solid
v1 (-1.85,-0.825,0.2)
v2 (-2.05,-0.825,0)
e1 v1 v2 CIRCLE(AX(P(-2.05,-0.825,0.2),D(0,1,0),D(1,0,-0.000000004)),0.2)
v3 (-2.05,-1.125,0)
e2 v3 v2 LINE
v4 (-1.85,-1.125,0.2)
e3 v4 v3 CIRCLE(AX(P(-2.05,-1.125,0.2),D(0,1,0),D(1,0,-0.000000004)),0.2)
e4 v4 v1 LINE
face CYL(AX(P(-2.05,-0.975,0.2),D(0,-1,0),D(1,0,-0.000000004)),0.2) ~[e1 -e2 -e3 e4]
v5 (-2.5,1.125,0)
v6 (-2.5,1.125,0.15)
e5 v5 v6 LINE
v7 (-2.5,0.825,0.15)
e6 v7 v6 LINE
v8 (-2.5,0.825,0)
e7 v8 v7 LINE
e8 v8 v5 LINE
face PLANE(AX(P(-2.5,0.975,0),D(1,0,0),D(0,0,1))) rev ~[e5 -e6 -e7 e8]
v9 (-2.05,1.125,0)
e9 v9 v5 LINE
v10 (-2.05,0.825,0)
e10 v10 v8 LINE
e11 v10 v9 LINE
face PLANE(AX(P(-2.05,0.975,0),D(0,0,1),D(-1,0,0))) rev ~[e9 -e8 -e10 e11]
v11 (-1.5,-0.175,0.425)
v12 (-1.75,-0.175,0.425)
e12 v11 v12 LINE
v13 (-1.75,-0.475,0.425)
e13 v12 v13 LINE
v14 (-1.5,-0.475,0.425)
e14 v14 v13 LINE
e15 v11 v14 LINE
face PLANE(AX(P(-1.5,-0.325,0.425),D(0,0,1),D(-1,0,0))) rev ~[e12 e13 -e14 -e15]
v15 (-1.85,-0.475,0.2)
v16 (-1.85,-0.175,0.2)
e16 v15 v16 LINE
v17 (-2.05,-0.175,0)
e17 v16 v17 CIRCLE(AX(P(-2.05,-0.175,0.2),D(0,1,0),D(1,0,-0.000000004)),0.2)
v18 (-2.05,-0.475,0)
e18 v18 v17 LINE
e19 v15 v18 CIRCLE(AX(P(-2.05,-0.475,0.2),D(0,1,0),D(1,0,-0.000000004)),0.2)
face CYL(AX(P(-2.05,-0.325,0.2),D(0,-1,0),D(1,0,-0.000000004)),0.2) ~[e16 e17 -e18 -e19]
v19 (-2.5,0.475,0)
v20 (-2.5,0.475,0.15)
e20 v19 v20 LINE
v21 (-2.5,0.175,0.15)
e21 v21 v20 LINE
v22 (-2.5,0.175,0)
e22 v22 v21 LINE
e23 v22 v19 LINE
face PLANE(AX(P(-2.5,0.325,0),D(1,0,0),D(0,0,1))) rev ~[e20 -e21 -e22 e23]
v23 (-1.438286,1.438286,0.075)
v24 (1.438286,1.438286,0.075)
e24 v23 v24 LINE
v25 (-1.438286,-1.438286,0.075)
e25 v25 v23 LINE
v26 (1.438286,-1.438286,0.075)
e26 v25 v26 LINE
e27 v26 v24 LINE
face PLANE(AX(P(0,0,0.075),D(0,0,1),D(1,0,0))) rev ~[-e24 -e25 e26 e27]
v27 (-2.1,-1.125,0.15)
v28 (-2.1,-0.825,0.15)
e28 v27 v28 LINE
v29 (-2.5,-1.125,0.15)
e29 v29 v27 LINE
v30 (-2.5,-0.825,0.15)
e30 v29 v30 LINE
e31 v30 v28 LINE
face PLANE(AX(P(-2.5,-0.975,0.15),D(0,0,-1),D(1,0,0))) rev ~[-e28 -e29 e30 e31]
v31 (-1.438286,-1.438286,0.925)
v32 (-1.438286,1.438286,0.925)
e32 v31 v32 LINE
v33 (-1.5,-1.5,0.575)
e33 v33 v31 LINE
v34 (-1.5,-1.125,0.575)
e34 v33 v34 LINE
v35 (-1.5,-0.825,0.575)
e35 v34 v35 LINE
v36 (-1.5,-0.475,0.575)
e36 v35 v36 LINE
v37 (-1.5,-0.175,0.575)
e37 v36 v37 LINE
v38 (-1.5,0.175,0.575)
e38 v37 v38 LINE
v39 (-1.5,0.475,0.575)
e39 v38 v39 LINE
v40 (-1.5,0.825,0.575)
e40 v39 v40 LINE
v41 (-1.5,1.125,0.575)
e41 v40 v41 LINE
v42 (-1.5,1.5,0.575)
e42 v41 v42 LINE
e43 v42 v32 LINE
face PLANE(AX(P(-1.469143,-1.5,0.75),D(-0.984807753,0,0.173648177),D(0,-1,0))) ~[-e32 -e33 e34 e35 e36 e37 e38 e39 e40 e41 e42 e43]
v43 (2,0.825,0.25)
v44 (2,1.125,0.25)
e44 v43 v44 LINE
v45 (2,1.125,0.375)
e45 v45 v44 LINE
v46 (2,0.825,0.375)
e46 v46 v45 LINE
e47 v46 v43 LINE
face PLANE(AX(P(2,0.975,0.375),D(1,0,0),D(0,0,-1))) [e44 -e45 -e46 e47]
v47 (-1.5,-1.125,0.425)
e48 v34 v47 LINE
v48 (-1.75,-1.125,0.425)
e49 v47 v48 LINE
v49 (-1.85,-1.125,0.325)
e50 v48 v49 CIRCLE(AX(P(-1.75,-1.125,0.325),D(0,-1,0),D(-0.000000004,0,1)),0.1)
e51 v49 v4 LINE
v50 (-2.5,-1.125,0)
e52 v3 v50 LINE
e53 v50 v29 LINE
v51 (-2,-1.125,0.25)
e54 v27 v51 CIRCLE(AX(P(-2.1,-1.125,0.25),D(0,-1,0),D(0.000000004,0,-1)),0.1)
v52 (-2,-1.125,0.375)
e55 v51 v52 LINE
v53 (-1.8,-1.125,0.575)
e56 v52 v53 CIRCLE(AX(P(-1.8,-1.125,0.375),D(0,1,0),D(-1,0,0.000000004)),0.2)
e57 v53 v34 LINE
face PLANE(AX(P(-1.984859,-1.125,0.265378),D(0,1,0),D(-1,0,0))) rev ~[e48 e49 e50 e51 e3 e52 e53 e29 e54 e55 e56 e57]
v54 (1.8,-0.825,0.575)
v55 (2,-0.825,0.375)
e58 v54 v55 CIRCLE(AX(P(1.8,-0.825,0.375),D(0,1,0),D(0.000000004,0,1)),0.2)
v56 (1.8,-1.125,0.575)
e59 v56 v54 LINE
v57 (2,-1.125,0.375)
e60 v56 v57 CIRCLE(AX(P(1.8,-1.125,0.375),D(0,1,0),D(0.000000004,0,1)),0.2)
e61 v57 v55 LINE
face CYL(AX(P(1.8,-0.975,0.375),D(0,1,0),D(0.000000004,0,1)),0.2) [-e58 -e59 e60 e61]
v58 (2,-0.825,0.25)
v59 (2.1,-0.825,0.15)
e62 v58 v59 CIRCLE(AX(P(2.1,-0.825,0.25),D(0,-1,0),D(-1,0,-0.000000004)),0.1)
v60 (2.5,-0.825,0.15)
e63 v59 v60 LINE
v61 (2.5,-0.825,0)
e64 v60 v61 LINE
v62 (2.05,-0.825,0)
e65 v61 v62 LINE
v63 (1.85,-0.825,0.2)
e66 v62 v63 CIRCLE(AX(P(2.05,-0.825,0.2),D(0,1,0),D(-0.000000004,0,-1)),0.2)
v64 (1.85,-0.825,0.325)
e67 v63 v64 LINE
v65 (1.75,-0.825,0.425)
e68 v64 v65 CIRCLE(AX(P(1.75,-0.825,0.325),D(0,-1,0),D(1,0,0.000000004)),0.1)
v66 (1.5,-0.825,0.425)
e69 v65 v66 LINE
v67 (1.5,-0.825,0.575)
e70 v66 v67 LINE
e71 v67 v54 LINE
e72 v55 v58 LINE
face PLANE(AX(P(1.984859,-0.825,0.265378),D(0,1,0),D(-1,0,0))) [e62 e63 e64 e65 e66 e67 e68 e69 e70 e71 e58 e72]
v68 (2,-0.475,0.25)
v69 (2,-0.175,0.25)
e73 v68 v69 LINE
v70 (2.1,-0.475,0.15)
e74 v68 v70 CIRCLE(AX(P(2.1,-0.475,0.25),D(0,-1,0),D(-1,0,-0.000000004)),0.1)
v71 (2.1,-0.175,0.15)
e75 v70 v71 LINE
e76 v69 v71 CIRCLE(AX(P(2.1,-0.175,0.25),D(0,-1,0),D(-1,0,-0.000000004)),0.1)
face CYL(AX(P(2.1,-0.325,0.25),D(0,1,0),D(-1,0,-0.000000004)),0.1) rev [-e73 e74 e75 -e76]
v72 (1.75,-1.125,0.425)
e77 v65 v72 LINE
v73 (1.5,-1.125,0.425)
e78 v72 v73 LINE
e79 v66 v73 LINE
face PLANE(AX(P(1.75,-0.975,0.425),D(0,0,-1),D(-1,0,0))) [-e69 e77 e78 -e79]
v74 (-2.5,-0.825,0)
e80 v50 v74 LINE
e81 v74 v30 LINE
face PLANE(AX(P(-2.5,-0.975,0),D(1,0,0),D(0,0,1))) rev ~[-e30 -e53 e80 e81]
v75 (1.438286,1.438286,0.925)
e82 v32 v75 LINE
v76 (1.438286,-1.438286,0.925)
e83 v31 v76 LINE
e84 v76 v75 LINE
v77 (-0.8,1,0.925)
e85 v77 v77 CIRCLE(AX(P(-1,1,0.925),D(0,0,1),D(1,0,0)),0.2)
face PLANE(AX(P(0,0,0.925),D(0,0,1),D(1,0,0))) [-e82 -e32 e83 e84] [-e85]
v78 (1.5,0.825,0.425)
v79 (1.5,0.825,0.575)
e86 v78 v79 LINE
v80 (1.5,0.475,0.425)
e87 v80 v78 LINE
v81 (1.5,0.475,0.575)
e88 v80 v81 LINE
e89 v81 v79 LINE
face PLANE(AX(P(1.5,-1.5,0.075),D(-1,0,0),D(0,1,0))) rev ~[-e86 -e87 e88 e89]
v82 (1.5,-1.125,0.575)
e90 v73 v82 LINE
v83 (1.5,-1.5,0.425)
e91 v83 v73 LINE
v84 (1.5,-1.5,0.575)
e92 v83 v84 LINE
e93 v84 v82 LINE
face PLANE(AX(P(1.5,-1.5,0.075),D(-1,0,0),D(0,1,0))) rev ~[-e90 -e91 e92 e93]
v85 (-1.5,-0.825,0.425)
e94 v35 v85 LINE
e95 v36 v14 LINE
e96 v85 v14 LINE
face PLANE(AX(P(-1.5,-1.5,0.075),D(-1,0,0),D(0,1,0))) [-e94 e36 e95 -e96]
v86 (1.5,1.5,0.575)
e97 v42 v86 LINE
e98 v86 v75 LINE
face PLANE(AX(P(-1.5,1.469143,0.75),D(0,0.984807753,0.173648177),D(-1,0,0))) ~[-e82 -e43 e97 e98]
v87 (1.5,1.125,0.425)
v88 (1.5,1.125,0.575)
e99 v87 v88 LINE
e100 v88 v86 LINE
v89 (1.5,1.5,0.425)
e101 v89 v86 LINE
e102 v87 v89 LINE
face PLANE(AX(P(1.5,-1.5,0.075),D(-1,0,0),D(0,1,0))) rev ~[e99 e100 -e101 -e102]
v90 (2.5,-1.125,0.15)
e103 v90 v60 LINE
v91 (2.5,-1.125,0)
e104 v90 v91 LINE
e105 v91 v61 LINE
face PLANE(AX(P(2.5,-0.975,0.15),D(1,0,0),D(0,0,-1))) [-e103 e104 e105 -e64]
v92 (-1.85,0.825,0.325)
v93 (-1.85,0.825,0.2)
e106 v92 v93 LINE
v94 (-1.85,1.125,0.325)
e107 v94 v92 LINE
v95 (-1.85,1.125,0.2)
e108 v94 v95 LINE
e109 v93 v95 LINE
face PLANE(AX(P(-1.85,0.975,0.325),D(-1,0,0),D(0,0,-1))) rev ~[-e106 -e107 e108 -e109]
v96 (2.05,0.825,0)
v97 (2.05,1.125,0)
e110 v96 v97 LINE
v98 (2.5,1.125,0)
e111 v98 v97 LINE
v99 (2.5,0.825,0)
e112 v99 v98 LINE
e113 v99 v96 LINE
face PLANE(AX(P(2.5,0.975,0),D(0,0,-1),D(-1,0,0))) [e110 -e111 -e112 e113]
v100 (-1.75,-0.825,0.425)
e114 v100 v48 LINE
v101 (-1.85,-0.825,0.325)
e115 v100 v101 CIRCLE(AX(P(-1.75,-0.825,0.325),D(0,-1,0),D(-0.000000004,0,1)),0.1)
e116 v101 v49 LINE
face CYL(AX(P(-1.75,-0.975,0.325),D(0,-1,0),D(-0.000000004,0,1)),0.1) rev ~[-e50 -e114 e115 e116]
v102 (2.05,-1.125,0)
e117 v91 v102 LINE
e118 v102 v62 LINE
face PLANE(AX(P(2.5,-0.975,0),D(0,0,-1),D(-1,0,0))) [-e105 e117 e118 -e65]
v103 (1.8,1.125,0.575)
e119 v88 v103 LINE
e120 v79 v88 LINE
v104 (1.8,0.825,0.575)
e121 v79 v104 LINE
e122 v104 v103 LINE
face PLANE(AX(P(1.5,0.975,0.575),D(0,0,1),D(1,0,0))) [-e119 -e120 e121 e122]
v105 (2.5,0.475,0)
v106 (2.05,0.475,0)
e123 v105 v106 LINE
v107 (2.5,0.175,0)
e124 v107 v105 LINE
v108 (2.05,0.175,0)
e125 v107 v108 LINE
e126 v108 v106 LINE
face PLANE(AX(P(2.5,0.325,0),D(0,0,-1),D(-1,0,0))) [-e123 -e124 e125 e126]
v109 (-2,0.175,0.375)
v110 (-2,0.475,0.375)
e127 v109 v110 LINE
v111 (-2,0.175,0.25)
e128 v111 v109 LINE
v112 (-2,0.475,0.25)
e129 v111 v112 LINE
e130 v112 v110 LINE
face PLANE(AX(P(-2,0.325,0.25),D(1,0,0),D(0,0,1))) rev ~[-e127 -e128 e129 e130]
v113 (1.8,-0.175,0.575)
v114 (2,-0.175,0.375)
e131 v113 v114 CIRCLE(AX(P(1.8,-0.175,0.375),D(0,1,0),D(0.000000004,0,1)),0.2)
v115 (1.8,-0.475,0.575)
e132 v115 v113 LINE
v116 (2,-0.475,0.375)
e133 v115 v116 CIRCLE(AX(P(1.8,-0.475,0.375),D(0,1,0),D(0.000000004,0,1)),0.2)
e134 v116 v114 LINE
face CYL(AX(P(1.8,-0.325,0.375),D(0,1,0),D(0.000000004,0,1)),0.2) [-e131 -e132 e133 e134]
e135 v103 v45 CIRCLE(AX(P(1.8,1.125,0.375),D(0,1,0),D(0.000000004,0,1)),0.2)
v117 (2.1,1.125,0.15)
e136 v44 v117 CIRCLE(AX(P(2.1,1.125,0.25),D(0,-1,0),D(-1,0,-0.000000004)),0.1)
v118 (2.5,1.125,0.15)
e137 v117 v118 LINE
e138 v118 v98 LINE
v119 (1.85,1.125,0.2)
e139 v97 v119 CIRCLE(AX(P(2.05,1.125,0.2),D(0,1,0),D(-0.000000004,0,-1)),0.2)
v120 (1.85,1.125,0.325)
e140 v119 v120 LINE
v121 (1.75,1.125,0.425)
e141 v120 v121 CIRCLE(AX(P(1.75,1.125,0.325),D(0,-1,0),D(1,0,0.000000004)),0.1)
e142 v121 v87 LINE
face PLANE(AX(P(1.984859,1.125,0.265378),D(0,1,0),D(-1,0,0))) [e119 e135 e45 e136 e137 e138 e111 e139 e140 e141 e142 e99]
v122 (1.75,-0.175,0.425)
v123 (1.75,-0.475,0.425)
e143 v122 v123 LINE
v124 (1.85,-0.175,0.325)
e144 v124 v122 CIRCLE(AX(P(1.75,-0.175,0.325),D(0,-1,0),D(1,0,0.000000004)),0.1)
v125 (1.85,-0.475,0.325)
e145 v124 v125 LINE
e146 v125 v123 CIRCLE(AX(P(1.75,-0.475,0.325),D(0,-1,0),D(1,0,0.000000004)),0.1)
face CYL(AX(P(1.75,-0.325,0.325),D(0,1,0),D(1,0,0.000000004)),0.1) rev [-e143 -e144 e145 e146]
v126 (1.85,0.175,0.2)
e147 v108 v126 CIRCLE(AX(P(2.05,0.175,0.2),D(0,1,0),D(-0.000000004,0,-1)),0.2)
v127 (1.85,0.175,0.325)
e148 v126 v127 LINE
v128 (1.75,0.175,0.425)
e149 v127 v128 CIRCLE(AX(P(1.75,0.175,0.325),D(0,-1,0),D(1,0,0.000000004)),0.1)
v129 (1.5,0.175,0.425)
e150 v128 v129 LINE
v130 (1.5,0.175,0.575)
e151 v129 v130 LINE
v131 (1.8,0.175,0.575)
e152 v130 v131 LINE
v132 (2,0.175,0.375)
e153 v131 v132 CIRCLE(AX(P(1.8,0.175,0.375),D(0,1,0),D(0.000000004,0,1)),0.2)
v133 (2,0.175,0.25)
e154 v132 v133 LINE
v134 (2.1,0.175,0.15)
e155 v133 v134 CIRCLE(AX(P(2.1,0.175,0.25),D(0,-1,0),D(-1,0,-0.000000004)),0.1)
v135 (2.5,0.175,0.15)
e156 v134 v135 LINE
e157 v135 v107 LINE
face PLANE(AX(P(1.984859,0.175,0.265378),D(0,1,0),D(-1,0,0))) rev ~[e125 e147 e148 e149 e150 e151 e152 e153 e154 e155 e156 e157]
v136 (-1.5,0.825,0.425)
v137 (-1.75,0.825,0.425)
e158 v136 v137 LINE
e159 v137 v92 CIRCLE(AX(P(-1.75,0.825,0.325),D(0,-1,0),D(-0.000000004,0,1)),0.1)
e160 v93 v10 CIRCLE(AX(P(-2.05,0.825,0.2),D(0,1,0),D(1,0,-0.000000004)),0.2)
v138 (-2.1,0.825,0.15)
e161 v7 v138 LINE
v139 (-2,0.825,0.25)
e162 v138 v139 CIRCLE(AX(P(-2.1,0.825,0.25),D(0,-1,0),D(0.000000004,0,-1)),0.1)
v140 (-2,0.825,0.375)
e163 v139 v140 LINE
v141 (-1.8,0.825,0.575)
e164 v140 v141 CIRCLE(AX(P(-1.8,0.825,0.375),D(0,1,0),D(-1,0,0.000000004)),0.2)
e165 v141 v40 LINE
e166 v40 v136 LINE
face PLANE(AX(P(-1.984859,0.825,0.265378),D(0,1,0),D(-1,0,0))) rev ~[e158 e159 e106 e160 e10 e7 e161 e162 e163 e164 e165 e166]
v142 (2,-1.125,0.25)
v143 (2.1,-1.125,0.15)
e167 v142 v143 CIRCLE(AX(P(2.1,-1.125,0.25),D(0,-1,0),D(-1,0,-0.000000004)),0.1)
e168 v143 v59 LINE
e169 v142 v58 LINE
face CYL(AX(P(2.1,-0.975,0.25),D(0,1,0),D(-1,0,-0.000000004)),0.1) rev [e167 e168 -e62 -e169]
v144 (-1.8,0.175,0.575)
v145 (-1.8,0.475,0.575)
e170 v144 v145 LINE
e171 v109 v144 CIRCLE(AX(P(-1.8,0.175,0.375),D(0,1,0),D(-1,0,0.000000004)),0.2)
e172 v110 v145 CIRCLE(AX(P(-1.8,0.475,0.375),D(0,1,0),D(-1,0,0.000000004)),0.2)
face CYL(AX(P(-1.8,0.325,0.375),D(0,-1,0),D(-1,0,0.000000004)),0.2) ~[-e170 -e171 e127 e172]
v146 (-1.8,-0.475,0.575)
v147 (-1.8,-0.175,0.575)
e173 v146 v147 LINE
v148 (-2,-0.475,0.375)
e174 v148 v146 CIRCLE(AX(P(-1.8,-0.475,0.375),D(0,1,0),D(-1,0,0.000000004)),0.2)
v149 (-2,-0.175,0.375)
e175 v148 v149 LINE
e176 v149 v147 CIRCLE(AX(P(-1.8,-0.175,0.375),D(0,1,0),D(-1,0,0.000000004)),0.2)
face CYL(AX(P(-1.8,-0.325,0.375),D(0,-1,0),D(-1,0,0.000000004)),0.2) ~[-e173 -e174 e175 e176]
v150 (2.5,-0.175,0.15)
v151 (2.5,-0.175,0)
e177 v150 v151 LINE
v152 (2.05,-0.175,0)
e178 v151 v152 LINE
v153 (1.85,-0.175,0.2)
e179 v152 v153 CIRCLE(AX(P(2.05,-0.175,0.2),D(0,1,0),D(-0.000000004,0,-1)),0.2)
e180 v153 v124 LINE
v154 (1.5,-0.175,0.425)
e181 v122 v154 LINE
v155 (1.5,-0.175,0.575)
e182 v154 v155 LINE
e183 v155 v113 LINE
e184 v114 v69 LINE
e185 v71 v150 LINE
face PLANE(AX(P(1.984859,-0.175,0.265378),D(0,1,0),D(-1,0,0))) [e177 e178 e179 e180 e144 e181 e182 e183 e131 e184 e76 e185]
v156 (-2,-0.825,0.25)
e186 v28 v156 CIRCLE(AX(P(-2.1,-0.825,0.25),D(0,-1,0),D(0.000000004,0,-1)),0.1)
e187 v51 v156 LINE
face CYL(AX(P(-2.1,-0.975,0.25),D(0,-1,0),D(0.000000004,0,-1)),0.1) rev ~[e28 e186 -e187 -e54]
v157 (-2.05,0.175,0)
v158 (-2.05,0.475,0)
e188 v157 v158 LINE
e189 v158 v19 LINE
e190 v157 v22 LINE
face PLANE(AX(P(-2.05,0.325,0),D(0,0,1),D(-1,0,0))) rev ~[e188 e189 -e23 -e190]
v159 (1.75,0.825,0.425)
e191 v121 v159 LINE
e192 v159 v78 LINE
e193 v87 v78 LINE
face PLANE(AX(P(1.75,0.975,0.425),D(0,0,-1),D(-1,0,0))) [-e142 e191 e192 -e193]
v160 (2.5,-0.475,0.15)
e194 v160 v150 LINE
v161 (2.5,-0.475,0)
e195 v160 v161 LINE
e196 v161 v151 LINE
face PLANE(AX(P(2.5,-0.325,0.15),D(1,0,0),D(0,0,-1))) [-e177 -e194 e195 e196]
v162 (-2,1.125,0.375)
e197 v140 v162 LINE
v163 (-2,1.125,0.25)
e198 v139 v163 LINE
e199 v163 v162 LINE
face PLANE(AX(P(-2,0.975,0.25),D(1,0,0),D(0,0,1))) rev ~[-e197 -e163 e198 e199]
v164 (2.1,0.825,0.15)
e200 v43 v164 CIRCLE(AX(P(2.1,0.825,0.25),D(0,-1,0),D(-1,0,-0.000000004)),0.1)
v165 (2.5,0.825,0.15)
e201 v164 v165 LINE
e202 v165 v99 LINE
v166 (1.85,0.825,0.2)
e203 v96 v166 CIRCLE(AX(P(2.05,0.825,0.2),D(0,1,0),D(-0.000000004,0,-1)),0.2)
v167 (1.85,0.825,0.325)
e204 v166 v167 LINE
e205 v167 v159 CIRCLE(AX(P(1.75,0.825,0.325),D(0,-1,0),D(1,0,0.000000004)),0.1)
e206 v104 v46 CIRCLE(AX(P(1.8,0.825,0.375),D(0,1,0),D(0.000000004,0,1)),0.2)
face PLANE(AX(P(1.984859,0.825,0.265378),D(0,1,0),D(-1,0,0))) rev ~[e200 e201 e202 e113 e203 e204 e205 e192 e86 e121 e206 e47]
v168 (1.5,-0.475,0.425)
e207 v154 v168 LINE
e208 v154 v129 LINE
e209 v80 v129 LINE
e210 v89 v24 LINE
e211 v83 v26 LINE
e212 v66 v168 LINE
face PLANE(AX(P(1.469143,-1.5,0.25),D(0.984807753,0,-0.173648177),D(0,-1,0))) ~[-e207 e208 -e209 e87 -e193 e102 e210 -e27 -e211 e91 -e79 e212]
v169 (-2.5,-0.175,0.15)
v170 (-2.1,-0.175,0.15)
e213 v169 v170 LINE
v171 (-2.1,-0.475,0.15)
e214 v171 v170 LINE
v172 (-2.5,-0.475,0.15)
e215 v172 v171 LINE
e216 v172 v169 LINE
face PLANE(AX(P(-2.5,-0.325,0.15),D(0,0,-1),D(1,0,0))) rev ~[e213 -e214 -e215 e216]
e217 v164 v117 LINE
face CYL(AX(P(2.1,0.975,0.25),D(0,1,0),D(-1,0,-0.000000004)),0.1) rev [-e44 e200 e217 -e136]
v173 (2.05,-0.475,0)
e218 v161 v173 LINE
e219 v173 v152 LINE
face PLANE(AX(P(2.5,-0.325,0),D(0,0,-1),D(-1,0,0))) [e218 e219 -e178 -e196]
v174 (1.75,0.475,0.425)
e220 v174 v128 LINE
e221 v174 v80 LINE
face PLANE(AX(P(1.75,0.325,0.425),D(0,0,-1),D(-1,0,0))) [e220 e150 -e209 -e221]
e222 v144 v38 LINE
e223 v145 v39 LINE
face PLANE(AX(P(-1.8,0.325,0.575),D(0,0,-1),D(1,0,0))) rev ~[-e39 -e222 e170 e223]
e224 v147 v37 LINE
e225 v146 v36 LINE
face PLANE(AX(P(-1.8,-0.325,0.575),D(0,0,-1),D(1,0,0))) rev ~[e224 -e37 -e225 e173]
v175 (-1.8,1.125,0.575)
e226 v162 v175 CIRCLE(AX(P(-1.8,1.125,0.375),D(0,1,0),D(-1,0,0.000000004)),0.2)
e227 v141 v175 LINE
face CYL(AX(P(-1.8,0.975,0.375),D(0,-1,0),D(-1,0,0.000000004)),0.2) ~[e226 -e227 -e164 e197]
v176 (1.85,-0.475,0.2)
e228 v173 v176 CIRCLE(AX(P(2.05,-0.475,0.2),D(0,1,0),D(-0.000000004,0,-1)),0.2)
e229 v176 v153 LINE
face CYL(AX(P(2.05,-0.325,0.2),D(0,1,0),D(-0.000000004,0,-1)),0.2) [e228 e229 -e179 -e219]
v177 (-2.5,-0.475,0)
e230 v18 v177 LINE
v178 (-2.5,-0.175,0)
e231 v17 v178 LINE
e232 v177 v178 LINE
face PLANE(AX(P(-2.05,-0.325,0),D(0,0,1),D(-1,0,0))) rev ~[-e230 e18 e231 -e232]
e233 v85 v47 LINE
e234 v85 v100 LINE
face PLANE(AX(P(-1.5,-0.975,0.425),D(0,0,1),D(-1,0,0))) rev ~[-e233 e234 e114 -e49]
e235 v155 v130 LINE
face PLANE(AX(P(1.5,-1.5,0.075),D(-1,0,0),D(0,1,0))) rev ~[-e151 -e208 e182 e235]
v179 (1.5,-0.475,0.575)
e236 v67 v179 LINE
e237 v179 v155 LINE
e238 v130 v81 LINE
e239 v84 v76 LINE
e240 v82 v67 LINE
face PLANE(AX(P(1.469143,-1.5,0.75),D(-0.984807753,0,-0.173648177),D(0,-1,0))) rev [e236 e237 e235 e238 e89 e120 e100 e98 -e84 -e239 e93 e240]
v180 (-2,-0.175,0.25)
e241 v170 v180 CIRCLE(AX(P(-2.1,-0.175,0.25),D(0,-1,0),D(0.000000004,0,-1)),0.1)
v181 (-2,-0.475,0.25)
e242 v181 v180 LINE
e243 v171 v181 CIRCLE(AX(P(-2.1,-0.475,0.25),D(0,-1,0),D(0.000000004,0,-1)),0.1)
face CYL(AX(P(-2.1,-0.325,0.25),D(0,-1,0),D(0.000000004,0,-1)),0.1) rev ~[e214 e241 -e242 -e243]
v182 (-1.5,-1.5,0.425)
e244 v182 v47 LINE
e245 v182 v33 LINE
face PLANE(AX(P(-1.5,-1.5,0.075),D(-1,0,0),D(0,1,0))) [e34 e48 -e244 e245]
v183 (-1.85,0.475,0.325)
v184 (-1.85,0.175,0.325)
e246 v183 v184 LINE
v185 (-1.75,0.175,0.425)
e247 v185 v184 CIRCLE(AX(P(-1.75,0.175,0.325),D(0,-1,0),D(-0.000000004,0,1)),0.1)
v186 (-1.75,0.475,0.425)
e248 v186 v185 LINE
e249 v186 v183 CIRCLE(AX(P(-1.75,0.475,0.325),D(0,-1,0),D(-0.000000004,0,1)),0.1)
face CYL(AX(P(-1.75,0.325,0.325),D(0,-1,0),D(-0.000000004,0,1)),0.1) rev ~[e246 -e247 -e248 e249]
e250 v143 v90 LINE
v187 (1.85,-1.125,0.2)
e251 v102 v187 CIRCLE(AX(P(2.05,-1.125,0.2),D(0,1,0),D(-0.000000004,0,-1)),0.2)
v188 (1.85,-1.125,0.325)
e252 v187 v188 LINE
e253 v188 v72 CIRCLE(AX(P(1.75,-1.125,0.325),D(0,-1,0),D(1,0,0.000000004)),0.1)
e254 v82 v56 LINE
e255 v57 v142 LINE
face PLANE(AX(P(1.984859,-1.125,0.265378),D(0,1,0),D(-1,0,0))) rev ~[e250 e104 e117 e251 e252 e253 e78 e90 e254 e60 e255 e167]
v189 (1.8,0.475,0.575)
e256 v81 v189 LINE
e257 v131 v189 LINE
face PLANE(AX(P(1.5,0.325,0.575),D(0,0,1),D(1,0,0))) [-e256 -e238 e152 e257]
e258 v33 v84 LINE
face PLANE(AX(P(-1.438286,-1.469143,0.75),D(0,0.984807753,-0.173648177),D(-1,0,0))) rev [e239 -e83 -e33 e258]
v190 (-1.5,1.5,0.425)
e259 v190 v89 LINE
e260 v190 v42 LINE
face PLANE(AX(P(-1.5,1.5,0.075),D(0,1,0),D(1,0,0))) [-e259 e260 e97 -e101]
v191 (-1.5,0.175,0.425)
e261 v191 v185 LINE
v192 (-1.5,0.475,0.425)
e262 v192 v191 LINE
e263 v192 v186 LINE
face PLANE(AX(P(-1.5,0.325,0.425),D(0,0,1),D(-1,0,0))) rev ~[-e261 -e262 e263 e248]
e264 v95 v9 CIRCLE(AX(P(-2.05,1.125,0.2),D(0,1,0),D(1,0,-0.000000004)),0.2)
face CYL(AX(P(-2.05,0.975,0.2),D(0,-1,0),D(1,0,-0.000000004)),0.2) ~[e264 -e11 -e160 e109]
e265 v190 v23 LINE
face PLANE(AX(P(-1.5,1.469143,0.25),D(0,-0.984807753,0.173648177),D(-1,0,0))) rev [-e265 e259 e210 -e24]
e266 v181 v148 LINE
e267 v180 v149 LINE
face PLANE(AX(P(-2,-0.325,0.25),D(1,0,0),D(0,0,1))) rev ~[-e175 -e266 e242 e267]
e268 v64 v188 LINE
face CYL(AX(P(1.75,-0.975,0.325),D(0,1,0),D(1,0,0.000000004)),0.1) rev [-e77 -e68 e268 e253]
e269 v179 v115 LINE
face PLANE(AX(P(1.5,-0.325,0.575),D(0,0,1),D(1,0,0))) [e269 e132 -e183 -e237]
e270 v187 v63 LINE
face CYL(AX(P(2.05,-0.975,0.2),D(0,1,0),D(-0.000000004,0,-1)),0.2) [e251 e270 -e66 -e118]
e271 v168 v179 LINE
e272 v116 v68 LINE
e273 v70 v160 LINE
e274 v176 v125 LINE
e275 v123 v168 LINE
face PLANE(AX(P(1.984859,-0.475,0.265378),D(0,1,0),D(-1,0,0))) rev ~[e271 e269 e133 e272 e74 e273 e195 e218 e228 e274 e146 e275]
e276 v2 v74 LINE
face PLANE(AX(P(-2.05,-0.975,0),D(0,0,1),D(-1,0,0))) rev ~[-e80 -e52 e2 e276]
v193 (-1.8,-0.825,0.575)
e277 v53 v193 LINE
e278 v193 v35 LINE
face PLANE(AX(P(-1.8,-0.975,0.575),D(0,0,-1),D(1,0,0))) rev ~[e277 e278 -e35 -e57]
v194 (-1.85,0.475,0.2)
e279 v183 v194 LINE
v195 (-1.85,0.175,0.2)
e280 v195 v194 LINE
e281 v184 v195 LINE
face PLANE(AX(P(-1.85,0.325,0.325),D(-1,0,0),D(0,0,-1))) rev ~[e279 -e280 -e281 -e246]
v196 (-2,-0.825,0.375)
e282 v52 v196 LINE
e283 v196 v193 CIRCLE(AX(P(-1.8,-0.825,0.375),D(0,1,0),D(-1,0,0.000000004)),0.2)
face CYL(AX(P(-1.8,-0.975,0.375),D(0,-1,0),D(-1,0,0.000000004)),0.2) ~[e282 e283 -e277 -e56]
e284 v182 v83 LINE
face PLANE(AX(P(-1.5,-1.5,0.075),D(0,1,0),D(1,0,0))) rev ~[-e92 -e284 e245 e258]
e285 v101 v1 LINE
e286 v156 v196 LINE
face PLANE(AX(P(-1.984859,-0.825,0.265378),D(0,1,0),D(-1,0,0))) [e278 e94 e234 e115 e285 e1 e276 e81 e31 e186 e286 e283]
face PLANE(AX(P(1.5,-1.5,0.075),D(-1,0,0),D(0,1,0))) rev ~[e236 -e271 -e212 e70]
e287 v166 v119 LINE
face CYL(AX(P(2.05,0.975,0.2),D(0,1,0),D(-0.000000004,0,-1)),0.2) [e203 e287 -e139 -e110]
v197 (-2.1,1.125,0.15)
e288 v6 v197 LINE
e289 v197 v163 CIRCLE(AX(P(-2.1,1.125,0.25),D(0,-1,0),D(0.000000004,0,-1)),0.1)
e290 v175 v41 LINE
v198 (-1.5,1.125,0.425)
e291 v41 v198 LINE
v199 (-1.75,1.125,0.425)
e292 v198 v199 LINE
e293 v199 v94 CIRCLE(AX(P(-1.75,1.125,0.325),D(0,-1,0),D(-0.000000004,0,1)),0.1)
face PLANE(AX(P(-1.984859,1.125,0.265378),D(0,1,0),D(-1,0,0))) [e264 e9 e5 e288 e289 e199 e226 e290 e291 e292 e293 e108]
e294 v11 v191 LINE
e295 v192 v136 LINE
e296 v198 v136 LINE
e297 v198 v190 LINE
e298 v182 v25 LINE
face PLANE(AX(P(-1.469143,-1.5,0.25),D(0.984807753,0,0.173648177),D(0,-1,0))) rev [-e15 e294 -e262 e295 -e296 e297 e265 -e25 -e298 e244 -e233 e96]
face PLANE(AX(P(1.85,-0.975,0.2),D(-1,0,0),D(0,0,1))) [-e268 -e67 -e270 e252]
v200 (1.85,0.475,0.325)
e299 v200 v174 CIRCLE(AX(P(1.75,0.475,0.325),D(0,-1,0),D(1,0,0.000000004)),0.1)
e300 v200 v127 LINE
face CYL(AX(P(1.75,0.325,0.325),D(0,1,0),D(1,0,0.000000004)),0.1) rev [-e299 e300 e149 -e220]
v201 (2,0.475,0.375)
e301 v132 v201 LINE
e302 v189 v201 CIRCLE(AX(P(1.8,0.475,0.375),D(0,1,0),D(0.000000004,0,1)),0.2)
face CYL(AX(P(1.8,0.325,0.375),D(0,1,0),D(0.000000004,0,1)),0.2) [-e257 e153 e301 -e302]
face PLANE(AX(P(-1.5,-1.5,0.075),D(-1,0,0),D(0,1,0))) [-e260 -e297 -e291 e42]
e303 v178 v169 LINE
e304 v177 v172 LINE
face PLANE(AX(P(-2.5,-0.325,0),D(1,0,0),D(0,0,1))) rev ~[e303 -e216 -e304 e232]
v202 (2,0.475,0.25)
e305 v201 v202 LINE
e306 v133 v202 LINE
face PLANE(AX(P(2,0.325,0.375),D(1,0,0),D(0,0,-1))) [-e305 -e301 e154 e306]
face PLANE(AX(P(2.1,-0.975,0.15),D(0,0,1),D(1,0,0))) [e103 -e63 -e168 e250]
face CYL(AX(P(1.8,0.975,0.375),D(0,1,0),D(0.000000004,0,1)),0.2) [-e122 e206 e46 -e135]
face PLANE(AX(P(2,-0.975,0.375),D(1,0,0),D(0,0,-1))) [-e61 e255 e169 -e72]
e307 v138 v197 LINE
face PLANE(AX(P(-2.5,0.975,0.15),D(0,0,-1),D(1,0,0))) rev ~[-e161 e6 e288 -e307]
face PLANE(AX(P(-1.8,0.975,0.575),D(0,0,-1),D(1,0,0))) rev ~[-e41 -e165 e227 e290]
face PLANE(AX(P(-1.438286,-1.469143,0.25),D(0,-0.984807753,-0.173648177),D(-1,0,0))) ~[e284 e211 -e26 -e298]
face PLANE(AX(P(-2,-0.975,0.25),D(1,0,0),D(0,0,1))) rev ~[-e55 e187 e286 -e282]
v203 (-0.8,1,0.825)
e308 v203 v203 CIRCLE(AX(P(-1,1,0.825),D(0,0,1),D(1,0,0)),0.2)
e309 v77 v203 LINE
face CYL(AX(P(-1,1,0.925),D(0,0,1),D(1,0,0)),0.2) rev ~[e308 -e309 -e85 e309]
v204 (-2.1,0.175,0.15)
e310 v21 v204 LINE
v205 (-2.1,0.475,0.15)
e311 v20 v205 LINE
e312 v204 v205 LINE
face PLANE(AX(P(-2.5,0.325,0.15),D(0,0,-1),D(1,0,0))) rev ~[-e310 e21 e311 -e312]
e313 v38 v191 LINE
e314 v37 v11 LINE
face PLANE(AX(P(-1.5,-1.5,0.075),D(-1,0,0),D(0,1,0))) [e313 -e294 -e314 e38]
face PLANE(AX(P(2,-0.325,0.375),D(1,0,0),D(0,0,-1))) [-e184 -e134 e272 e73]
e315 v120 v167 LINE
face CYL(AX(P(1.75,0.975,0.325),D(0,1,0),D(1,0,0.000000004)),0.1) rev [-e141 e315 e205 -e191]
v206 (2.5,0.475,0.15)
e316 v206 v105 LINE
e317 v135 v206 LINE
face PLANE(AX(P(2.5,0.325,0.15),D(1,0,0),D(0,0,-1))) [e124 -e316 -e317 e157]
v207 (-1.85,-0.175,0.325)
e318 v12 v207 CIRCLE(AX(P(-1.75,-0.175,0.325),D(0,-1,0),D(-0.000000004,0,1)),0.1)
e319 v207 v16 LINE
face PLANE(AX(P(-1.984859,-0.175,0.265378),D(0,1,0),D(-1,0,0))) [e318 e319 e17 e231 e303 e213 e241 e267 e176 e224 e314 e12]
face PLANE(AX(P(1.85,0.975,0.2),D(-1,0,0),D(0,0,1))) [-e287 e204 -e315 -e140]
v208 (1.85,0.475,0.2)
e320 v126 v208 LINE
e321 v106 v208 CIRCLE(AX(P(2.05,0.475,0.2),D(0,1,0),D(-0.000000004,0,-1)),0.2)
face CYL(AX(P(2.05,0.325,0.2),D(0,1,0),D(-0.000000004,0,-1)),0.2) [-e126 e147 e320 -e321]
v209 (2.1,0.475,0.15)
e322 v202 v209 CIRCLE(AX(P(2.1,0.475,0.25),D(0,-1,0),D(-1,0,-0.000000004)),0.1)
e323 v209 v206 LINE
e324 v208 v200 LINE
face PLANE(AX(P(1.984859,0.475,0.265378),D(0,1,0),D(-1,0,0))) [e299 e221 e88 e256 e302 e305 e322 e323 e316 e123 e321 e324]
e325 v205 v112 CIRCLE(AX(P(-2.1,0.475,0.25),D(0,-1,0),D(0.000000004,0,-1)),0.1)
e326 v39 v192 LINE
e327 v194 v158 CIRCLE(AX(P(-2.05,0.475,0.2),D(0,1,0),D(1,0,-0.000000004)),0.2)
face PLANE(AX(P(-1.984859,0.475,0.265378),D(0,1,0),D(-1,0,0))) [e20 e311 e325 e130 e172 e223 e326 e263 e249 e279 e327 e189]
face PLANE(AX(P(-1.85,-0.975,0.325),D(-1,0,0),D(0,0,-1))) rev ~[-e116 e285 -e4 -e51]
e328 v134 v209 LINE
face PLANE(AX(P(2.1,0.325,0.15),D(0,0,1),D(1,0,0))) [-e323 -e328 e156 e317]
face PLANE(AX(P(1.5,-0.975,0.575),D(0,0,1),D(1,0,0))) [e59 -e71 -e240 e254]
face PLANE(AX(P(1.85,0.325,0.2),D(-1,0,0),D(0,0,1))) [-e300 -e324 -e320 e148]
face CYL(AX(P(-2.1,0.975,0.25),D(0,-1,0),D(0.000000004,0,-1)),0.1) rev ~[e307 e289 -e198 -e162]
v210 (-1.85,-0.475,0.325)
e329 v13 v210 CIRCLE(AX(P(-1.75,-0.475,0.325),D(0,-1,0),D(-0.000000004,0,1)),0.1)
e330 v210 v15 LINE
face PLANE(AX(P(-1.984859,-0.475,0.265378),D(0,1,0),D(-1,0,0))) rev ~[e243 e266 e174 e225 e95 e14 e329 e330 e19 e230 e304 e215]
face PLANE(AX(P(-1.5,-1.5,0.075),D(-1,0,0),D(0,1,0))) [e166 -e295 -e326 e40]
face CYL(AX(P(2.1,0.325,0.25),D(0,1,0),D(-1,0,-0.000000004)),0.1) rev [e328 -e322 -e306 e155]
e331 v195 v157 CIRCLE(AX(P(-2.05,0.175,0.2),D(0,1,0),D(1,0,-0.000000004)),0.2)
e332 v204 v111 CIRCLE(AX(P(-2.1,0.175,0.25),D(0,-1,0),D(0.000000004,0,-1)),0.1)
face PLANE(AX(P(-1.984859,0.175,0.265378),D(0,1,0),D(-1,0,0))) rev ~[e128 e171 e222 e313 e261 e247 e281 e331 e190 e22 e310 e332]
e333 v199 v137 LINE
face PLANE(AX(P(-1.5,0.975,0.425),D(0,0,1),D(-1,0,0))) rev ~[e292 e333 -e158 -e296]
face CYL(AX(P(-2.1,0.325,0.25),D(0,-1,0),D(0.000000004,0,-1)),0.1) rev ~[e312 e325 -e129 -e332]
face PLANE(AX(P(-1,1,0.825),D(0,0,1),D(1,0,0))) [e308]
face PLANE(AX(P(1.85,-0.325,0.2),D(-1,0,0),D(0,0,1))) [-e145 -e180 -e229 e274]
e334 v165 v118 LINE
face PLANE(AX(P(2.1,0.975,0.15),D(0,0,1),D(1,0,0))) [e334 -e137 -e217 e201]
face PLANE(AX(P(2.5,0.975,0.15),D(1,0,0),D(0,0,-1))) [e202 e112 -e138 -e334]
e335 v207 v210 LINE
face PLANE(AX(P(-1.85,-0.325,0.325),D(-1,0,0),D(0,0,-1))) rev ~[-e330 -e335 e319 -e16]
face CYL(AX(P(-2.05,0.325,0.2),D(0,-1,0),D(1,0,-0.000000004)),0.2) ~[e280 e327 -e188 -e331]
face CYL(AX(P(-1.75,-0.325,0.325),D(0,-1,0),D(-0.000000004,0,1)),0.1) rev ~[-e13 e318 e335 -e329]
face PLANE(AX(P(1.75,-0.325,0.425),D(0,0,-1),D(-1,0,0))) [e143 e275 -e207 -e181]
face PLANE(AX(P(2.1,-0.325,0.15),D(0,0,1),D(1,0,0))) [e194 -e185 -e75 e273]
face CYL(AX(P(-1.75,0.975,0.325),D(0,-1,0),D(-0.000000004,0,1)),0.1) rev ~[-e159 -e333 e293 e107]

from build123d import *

# Parameters (mm, degrees)
SKETCH_1_W             = 3
SKETCH_1_H             = 3
EXTRUDE_1_DEPTH        = 0.85
CHAMFER_1_SIZE         = 0.35
CHAMFER_1_SIZE2        = 0.061714443
CHAMFER_1_PART_2_SIZE  = 0.35
CHAMFER_1_PART_2_SIZE2 = 0.061714443
CHAMFER_1_PART_3_SIZE  = 0.35
CHAMFER_1_PART_3_SIZE2 = 0.061714443
CHAMFER_1_PART_4_SIZE  = 0.35
CHAMFER_1_PART_4_SIZE2 = 0.061714443
EXTRUDE_2_DEPTH        = 0.15
PATTERN_LINEAR_1_COUNT = 4
PATTERN_LINEAR_1_PITCH = 0.65
SKETCH_4_R             = 0.2
CUT_EXTRUDE_1_DEPTH    = 0.1


with BuildPart() as part:
    # Эскиз1 → Бобышка-Вытянуть1 (new body)
    with BuildSketch(Plane.XY.offset(0.075)):
        Rectangle(SKETCH_1_W, SKETCH_1_H)
    extrude(amount=EXTRUDE_1_DEPTH)

    # Фаска1
    chamfer_1_edges = [part.edges().sort_by_distance(p)[0] for p in [
        (1.5, 0, 0.925),
        (1.5, 0, 0.075),
    ]]
    chamfer_1_side = [part.faces().sort_by_distance(p)[0] for p in [
        (1.5, 0, 0.5),
    ]]
    chamfer(chamfer_1_edges, length=CHAMFER_1_SIZE, length2=CHAMFER_1_SIZE2, reference=chamfer_1_side[0])

    # Фаска1 part 2
    chamfer_1_part_2_edges = [part.edges().sort_by_distance(p)[0] for p in [
        (0, 1.5, 0.925),
        (0, 1.5, 0.075),
    ]]
    chamfer_1_part_2_side = [part.faces().sort_by_distance(p)[0] for p in [
        (0, 1.5, 0.5),
    ]]
    chamfer(chamfer_1_part_2_edges, length=CHAMFER_1_PART_2_SIZE, length2=CHAMFER_1_PART_2_SIZE2, reference=chamfer_1_part_2_side[0])

    # Фаска1 part 3
    chamfer_1_part_3_edges = [part.edges().sort_by_distance(p)[0] for p in [
        (-1.5, 0, 0.925),
        (-1.5, 0, 0.075),
    ]]
    chamfer_1_part_3_side = [part.faces().sort_by_distance(p)[0] for p in [
        (-1.5, 0, 0.5),
    ]]
    chamfer(chamfer_1_part_3_edges, length=CHAMFER_1_PART_3_SIZE, length2=CHAMFER_1_PART_3_SIZE2, reference=chamfer_1_part_3_side[0])

    # Фаска1 part 4
    chamfer_1_part_4_edges = [part.edges().sort_by_distance(p)[0] for p in [
        (0, -1.5, 0.075),
        (0, -1.5, 0.925),
    ]]
    chamfer_1_part_4_side = [part.faces().sort_by_distance(p)[0] for p in [
        (0, -1.5, 0.5),
    ]]
    chamfer(chamfer_1_part_4_edges, length=CHAMFER_1_PART_4_SIZE, length2=CHAMFER_1_PART_4_SIZE2, reference=chamfer_1_part_4_side[0])

    # Эскиз3 → Бобышка-Вытянуть2 (add, symmetric)
    with BuildSketch(Plane(origin=(0, 0.975, 0), x_dir=(-1, 0, 0), z_dir=(0, 1, 0))):
        with BuildLine():
            Line((1.85, 0.325), (1.85, 0.2))
            ThreePointArc((1.85, 0.2), (1.908578644, 0.058578644), (2.05, 0))
            Line((2.05, 0), (2.5, 0))
            Line((2.5, 0), (2.5, 0.15))
            Line((2.5, 0.15), (2.1, 0.15))
            ThreePointArc((2.1, 0.15), (2.029289322, 0.179289322), (2, 0.25))
            Line((2, 0.25), (2, 0.375))
            ThreePointArc((2, 0.375), (1.941421356, 0.516421356), (1.8, 0.575))
            Line((1.8, 0.575), (1.5, 0.575))
            Line((1.5, 0.575), (1.5, 0.425))
            Line((1.5, 0.425), (1.75, 0.425))
            ThreePointArc((1.75, 0.425), (1.820710678, 0.395710678), (1.85, 0.325))
        make_face()
        with BuildLine():
            Line((-1.5, 0.425), (-1.5, 0.575))
            Line((-1.5, 0.575), (-1.8, 0.575))
            ThreePointArc((-1.8, 0.575), (-1.941421356, 0.516421356), (-2, 0.375))
            Line((-2, 0.375), (-2, 0.25))
            ThreePointArc((-2, 0.25), (-2.029289322, 0.179289322), (-2.1, 0.15))
            Line((-2.1, 0.15), (-2.5, 0.15))
            Line((-2.5, 0.15), (-2.5, 0))
            Line((-2.5, 0), (-2.05, 0))
            ThreePointArc((-2.05, 0), (-1.908578644, 0.058578644), (-1.85, 0.2))
            Line((-1.85, 0.2), (-1.85, 0.325))
            ThreePointArc((-1.85, 0.325), (-1.820710678, 0.395710678), (-1.75, 0.425))
            Line((-1.75, 0.425), (-1.5, 0.425))
        make_face()
    extrude_2 = extrude(amount=EXTRUDE_2_DEPTH, both=True)

    # Линейный массив1: Бобышка-Вытянуть2 ×4
    with Locations(*[(0, -i * PATTERN_LINEAR_1_PITCH, 0) for i in range(1, PATTERN_LINEAR_1_COUNT)]):
        add(extrude_2)

    # Эскиз4 → Вырез-Вытянуть1 (cut)
    with BuildSketch(Plane.XY.offset(0.925)):
        with Locations((-1, 1)):
            Circle(SKETCH_4_R)
    extrude(amount=-CUT_EXTRUDE_1_DEPTH, mode=Mode.SUBTRACT)


solid = part.part
